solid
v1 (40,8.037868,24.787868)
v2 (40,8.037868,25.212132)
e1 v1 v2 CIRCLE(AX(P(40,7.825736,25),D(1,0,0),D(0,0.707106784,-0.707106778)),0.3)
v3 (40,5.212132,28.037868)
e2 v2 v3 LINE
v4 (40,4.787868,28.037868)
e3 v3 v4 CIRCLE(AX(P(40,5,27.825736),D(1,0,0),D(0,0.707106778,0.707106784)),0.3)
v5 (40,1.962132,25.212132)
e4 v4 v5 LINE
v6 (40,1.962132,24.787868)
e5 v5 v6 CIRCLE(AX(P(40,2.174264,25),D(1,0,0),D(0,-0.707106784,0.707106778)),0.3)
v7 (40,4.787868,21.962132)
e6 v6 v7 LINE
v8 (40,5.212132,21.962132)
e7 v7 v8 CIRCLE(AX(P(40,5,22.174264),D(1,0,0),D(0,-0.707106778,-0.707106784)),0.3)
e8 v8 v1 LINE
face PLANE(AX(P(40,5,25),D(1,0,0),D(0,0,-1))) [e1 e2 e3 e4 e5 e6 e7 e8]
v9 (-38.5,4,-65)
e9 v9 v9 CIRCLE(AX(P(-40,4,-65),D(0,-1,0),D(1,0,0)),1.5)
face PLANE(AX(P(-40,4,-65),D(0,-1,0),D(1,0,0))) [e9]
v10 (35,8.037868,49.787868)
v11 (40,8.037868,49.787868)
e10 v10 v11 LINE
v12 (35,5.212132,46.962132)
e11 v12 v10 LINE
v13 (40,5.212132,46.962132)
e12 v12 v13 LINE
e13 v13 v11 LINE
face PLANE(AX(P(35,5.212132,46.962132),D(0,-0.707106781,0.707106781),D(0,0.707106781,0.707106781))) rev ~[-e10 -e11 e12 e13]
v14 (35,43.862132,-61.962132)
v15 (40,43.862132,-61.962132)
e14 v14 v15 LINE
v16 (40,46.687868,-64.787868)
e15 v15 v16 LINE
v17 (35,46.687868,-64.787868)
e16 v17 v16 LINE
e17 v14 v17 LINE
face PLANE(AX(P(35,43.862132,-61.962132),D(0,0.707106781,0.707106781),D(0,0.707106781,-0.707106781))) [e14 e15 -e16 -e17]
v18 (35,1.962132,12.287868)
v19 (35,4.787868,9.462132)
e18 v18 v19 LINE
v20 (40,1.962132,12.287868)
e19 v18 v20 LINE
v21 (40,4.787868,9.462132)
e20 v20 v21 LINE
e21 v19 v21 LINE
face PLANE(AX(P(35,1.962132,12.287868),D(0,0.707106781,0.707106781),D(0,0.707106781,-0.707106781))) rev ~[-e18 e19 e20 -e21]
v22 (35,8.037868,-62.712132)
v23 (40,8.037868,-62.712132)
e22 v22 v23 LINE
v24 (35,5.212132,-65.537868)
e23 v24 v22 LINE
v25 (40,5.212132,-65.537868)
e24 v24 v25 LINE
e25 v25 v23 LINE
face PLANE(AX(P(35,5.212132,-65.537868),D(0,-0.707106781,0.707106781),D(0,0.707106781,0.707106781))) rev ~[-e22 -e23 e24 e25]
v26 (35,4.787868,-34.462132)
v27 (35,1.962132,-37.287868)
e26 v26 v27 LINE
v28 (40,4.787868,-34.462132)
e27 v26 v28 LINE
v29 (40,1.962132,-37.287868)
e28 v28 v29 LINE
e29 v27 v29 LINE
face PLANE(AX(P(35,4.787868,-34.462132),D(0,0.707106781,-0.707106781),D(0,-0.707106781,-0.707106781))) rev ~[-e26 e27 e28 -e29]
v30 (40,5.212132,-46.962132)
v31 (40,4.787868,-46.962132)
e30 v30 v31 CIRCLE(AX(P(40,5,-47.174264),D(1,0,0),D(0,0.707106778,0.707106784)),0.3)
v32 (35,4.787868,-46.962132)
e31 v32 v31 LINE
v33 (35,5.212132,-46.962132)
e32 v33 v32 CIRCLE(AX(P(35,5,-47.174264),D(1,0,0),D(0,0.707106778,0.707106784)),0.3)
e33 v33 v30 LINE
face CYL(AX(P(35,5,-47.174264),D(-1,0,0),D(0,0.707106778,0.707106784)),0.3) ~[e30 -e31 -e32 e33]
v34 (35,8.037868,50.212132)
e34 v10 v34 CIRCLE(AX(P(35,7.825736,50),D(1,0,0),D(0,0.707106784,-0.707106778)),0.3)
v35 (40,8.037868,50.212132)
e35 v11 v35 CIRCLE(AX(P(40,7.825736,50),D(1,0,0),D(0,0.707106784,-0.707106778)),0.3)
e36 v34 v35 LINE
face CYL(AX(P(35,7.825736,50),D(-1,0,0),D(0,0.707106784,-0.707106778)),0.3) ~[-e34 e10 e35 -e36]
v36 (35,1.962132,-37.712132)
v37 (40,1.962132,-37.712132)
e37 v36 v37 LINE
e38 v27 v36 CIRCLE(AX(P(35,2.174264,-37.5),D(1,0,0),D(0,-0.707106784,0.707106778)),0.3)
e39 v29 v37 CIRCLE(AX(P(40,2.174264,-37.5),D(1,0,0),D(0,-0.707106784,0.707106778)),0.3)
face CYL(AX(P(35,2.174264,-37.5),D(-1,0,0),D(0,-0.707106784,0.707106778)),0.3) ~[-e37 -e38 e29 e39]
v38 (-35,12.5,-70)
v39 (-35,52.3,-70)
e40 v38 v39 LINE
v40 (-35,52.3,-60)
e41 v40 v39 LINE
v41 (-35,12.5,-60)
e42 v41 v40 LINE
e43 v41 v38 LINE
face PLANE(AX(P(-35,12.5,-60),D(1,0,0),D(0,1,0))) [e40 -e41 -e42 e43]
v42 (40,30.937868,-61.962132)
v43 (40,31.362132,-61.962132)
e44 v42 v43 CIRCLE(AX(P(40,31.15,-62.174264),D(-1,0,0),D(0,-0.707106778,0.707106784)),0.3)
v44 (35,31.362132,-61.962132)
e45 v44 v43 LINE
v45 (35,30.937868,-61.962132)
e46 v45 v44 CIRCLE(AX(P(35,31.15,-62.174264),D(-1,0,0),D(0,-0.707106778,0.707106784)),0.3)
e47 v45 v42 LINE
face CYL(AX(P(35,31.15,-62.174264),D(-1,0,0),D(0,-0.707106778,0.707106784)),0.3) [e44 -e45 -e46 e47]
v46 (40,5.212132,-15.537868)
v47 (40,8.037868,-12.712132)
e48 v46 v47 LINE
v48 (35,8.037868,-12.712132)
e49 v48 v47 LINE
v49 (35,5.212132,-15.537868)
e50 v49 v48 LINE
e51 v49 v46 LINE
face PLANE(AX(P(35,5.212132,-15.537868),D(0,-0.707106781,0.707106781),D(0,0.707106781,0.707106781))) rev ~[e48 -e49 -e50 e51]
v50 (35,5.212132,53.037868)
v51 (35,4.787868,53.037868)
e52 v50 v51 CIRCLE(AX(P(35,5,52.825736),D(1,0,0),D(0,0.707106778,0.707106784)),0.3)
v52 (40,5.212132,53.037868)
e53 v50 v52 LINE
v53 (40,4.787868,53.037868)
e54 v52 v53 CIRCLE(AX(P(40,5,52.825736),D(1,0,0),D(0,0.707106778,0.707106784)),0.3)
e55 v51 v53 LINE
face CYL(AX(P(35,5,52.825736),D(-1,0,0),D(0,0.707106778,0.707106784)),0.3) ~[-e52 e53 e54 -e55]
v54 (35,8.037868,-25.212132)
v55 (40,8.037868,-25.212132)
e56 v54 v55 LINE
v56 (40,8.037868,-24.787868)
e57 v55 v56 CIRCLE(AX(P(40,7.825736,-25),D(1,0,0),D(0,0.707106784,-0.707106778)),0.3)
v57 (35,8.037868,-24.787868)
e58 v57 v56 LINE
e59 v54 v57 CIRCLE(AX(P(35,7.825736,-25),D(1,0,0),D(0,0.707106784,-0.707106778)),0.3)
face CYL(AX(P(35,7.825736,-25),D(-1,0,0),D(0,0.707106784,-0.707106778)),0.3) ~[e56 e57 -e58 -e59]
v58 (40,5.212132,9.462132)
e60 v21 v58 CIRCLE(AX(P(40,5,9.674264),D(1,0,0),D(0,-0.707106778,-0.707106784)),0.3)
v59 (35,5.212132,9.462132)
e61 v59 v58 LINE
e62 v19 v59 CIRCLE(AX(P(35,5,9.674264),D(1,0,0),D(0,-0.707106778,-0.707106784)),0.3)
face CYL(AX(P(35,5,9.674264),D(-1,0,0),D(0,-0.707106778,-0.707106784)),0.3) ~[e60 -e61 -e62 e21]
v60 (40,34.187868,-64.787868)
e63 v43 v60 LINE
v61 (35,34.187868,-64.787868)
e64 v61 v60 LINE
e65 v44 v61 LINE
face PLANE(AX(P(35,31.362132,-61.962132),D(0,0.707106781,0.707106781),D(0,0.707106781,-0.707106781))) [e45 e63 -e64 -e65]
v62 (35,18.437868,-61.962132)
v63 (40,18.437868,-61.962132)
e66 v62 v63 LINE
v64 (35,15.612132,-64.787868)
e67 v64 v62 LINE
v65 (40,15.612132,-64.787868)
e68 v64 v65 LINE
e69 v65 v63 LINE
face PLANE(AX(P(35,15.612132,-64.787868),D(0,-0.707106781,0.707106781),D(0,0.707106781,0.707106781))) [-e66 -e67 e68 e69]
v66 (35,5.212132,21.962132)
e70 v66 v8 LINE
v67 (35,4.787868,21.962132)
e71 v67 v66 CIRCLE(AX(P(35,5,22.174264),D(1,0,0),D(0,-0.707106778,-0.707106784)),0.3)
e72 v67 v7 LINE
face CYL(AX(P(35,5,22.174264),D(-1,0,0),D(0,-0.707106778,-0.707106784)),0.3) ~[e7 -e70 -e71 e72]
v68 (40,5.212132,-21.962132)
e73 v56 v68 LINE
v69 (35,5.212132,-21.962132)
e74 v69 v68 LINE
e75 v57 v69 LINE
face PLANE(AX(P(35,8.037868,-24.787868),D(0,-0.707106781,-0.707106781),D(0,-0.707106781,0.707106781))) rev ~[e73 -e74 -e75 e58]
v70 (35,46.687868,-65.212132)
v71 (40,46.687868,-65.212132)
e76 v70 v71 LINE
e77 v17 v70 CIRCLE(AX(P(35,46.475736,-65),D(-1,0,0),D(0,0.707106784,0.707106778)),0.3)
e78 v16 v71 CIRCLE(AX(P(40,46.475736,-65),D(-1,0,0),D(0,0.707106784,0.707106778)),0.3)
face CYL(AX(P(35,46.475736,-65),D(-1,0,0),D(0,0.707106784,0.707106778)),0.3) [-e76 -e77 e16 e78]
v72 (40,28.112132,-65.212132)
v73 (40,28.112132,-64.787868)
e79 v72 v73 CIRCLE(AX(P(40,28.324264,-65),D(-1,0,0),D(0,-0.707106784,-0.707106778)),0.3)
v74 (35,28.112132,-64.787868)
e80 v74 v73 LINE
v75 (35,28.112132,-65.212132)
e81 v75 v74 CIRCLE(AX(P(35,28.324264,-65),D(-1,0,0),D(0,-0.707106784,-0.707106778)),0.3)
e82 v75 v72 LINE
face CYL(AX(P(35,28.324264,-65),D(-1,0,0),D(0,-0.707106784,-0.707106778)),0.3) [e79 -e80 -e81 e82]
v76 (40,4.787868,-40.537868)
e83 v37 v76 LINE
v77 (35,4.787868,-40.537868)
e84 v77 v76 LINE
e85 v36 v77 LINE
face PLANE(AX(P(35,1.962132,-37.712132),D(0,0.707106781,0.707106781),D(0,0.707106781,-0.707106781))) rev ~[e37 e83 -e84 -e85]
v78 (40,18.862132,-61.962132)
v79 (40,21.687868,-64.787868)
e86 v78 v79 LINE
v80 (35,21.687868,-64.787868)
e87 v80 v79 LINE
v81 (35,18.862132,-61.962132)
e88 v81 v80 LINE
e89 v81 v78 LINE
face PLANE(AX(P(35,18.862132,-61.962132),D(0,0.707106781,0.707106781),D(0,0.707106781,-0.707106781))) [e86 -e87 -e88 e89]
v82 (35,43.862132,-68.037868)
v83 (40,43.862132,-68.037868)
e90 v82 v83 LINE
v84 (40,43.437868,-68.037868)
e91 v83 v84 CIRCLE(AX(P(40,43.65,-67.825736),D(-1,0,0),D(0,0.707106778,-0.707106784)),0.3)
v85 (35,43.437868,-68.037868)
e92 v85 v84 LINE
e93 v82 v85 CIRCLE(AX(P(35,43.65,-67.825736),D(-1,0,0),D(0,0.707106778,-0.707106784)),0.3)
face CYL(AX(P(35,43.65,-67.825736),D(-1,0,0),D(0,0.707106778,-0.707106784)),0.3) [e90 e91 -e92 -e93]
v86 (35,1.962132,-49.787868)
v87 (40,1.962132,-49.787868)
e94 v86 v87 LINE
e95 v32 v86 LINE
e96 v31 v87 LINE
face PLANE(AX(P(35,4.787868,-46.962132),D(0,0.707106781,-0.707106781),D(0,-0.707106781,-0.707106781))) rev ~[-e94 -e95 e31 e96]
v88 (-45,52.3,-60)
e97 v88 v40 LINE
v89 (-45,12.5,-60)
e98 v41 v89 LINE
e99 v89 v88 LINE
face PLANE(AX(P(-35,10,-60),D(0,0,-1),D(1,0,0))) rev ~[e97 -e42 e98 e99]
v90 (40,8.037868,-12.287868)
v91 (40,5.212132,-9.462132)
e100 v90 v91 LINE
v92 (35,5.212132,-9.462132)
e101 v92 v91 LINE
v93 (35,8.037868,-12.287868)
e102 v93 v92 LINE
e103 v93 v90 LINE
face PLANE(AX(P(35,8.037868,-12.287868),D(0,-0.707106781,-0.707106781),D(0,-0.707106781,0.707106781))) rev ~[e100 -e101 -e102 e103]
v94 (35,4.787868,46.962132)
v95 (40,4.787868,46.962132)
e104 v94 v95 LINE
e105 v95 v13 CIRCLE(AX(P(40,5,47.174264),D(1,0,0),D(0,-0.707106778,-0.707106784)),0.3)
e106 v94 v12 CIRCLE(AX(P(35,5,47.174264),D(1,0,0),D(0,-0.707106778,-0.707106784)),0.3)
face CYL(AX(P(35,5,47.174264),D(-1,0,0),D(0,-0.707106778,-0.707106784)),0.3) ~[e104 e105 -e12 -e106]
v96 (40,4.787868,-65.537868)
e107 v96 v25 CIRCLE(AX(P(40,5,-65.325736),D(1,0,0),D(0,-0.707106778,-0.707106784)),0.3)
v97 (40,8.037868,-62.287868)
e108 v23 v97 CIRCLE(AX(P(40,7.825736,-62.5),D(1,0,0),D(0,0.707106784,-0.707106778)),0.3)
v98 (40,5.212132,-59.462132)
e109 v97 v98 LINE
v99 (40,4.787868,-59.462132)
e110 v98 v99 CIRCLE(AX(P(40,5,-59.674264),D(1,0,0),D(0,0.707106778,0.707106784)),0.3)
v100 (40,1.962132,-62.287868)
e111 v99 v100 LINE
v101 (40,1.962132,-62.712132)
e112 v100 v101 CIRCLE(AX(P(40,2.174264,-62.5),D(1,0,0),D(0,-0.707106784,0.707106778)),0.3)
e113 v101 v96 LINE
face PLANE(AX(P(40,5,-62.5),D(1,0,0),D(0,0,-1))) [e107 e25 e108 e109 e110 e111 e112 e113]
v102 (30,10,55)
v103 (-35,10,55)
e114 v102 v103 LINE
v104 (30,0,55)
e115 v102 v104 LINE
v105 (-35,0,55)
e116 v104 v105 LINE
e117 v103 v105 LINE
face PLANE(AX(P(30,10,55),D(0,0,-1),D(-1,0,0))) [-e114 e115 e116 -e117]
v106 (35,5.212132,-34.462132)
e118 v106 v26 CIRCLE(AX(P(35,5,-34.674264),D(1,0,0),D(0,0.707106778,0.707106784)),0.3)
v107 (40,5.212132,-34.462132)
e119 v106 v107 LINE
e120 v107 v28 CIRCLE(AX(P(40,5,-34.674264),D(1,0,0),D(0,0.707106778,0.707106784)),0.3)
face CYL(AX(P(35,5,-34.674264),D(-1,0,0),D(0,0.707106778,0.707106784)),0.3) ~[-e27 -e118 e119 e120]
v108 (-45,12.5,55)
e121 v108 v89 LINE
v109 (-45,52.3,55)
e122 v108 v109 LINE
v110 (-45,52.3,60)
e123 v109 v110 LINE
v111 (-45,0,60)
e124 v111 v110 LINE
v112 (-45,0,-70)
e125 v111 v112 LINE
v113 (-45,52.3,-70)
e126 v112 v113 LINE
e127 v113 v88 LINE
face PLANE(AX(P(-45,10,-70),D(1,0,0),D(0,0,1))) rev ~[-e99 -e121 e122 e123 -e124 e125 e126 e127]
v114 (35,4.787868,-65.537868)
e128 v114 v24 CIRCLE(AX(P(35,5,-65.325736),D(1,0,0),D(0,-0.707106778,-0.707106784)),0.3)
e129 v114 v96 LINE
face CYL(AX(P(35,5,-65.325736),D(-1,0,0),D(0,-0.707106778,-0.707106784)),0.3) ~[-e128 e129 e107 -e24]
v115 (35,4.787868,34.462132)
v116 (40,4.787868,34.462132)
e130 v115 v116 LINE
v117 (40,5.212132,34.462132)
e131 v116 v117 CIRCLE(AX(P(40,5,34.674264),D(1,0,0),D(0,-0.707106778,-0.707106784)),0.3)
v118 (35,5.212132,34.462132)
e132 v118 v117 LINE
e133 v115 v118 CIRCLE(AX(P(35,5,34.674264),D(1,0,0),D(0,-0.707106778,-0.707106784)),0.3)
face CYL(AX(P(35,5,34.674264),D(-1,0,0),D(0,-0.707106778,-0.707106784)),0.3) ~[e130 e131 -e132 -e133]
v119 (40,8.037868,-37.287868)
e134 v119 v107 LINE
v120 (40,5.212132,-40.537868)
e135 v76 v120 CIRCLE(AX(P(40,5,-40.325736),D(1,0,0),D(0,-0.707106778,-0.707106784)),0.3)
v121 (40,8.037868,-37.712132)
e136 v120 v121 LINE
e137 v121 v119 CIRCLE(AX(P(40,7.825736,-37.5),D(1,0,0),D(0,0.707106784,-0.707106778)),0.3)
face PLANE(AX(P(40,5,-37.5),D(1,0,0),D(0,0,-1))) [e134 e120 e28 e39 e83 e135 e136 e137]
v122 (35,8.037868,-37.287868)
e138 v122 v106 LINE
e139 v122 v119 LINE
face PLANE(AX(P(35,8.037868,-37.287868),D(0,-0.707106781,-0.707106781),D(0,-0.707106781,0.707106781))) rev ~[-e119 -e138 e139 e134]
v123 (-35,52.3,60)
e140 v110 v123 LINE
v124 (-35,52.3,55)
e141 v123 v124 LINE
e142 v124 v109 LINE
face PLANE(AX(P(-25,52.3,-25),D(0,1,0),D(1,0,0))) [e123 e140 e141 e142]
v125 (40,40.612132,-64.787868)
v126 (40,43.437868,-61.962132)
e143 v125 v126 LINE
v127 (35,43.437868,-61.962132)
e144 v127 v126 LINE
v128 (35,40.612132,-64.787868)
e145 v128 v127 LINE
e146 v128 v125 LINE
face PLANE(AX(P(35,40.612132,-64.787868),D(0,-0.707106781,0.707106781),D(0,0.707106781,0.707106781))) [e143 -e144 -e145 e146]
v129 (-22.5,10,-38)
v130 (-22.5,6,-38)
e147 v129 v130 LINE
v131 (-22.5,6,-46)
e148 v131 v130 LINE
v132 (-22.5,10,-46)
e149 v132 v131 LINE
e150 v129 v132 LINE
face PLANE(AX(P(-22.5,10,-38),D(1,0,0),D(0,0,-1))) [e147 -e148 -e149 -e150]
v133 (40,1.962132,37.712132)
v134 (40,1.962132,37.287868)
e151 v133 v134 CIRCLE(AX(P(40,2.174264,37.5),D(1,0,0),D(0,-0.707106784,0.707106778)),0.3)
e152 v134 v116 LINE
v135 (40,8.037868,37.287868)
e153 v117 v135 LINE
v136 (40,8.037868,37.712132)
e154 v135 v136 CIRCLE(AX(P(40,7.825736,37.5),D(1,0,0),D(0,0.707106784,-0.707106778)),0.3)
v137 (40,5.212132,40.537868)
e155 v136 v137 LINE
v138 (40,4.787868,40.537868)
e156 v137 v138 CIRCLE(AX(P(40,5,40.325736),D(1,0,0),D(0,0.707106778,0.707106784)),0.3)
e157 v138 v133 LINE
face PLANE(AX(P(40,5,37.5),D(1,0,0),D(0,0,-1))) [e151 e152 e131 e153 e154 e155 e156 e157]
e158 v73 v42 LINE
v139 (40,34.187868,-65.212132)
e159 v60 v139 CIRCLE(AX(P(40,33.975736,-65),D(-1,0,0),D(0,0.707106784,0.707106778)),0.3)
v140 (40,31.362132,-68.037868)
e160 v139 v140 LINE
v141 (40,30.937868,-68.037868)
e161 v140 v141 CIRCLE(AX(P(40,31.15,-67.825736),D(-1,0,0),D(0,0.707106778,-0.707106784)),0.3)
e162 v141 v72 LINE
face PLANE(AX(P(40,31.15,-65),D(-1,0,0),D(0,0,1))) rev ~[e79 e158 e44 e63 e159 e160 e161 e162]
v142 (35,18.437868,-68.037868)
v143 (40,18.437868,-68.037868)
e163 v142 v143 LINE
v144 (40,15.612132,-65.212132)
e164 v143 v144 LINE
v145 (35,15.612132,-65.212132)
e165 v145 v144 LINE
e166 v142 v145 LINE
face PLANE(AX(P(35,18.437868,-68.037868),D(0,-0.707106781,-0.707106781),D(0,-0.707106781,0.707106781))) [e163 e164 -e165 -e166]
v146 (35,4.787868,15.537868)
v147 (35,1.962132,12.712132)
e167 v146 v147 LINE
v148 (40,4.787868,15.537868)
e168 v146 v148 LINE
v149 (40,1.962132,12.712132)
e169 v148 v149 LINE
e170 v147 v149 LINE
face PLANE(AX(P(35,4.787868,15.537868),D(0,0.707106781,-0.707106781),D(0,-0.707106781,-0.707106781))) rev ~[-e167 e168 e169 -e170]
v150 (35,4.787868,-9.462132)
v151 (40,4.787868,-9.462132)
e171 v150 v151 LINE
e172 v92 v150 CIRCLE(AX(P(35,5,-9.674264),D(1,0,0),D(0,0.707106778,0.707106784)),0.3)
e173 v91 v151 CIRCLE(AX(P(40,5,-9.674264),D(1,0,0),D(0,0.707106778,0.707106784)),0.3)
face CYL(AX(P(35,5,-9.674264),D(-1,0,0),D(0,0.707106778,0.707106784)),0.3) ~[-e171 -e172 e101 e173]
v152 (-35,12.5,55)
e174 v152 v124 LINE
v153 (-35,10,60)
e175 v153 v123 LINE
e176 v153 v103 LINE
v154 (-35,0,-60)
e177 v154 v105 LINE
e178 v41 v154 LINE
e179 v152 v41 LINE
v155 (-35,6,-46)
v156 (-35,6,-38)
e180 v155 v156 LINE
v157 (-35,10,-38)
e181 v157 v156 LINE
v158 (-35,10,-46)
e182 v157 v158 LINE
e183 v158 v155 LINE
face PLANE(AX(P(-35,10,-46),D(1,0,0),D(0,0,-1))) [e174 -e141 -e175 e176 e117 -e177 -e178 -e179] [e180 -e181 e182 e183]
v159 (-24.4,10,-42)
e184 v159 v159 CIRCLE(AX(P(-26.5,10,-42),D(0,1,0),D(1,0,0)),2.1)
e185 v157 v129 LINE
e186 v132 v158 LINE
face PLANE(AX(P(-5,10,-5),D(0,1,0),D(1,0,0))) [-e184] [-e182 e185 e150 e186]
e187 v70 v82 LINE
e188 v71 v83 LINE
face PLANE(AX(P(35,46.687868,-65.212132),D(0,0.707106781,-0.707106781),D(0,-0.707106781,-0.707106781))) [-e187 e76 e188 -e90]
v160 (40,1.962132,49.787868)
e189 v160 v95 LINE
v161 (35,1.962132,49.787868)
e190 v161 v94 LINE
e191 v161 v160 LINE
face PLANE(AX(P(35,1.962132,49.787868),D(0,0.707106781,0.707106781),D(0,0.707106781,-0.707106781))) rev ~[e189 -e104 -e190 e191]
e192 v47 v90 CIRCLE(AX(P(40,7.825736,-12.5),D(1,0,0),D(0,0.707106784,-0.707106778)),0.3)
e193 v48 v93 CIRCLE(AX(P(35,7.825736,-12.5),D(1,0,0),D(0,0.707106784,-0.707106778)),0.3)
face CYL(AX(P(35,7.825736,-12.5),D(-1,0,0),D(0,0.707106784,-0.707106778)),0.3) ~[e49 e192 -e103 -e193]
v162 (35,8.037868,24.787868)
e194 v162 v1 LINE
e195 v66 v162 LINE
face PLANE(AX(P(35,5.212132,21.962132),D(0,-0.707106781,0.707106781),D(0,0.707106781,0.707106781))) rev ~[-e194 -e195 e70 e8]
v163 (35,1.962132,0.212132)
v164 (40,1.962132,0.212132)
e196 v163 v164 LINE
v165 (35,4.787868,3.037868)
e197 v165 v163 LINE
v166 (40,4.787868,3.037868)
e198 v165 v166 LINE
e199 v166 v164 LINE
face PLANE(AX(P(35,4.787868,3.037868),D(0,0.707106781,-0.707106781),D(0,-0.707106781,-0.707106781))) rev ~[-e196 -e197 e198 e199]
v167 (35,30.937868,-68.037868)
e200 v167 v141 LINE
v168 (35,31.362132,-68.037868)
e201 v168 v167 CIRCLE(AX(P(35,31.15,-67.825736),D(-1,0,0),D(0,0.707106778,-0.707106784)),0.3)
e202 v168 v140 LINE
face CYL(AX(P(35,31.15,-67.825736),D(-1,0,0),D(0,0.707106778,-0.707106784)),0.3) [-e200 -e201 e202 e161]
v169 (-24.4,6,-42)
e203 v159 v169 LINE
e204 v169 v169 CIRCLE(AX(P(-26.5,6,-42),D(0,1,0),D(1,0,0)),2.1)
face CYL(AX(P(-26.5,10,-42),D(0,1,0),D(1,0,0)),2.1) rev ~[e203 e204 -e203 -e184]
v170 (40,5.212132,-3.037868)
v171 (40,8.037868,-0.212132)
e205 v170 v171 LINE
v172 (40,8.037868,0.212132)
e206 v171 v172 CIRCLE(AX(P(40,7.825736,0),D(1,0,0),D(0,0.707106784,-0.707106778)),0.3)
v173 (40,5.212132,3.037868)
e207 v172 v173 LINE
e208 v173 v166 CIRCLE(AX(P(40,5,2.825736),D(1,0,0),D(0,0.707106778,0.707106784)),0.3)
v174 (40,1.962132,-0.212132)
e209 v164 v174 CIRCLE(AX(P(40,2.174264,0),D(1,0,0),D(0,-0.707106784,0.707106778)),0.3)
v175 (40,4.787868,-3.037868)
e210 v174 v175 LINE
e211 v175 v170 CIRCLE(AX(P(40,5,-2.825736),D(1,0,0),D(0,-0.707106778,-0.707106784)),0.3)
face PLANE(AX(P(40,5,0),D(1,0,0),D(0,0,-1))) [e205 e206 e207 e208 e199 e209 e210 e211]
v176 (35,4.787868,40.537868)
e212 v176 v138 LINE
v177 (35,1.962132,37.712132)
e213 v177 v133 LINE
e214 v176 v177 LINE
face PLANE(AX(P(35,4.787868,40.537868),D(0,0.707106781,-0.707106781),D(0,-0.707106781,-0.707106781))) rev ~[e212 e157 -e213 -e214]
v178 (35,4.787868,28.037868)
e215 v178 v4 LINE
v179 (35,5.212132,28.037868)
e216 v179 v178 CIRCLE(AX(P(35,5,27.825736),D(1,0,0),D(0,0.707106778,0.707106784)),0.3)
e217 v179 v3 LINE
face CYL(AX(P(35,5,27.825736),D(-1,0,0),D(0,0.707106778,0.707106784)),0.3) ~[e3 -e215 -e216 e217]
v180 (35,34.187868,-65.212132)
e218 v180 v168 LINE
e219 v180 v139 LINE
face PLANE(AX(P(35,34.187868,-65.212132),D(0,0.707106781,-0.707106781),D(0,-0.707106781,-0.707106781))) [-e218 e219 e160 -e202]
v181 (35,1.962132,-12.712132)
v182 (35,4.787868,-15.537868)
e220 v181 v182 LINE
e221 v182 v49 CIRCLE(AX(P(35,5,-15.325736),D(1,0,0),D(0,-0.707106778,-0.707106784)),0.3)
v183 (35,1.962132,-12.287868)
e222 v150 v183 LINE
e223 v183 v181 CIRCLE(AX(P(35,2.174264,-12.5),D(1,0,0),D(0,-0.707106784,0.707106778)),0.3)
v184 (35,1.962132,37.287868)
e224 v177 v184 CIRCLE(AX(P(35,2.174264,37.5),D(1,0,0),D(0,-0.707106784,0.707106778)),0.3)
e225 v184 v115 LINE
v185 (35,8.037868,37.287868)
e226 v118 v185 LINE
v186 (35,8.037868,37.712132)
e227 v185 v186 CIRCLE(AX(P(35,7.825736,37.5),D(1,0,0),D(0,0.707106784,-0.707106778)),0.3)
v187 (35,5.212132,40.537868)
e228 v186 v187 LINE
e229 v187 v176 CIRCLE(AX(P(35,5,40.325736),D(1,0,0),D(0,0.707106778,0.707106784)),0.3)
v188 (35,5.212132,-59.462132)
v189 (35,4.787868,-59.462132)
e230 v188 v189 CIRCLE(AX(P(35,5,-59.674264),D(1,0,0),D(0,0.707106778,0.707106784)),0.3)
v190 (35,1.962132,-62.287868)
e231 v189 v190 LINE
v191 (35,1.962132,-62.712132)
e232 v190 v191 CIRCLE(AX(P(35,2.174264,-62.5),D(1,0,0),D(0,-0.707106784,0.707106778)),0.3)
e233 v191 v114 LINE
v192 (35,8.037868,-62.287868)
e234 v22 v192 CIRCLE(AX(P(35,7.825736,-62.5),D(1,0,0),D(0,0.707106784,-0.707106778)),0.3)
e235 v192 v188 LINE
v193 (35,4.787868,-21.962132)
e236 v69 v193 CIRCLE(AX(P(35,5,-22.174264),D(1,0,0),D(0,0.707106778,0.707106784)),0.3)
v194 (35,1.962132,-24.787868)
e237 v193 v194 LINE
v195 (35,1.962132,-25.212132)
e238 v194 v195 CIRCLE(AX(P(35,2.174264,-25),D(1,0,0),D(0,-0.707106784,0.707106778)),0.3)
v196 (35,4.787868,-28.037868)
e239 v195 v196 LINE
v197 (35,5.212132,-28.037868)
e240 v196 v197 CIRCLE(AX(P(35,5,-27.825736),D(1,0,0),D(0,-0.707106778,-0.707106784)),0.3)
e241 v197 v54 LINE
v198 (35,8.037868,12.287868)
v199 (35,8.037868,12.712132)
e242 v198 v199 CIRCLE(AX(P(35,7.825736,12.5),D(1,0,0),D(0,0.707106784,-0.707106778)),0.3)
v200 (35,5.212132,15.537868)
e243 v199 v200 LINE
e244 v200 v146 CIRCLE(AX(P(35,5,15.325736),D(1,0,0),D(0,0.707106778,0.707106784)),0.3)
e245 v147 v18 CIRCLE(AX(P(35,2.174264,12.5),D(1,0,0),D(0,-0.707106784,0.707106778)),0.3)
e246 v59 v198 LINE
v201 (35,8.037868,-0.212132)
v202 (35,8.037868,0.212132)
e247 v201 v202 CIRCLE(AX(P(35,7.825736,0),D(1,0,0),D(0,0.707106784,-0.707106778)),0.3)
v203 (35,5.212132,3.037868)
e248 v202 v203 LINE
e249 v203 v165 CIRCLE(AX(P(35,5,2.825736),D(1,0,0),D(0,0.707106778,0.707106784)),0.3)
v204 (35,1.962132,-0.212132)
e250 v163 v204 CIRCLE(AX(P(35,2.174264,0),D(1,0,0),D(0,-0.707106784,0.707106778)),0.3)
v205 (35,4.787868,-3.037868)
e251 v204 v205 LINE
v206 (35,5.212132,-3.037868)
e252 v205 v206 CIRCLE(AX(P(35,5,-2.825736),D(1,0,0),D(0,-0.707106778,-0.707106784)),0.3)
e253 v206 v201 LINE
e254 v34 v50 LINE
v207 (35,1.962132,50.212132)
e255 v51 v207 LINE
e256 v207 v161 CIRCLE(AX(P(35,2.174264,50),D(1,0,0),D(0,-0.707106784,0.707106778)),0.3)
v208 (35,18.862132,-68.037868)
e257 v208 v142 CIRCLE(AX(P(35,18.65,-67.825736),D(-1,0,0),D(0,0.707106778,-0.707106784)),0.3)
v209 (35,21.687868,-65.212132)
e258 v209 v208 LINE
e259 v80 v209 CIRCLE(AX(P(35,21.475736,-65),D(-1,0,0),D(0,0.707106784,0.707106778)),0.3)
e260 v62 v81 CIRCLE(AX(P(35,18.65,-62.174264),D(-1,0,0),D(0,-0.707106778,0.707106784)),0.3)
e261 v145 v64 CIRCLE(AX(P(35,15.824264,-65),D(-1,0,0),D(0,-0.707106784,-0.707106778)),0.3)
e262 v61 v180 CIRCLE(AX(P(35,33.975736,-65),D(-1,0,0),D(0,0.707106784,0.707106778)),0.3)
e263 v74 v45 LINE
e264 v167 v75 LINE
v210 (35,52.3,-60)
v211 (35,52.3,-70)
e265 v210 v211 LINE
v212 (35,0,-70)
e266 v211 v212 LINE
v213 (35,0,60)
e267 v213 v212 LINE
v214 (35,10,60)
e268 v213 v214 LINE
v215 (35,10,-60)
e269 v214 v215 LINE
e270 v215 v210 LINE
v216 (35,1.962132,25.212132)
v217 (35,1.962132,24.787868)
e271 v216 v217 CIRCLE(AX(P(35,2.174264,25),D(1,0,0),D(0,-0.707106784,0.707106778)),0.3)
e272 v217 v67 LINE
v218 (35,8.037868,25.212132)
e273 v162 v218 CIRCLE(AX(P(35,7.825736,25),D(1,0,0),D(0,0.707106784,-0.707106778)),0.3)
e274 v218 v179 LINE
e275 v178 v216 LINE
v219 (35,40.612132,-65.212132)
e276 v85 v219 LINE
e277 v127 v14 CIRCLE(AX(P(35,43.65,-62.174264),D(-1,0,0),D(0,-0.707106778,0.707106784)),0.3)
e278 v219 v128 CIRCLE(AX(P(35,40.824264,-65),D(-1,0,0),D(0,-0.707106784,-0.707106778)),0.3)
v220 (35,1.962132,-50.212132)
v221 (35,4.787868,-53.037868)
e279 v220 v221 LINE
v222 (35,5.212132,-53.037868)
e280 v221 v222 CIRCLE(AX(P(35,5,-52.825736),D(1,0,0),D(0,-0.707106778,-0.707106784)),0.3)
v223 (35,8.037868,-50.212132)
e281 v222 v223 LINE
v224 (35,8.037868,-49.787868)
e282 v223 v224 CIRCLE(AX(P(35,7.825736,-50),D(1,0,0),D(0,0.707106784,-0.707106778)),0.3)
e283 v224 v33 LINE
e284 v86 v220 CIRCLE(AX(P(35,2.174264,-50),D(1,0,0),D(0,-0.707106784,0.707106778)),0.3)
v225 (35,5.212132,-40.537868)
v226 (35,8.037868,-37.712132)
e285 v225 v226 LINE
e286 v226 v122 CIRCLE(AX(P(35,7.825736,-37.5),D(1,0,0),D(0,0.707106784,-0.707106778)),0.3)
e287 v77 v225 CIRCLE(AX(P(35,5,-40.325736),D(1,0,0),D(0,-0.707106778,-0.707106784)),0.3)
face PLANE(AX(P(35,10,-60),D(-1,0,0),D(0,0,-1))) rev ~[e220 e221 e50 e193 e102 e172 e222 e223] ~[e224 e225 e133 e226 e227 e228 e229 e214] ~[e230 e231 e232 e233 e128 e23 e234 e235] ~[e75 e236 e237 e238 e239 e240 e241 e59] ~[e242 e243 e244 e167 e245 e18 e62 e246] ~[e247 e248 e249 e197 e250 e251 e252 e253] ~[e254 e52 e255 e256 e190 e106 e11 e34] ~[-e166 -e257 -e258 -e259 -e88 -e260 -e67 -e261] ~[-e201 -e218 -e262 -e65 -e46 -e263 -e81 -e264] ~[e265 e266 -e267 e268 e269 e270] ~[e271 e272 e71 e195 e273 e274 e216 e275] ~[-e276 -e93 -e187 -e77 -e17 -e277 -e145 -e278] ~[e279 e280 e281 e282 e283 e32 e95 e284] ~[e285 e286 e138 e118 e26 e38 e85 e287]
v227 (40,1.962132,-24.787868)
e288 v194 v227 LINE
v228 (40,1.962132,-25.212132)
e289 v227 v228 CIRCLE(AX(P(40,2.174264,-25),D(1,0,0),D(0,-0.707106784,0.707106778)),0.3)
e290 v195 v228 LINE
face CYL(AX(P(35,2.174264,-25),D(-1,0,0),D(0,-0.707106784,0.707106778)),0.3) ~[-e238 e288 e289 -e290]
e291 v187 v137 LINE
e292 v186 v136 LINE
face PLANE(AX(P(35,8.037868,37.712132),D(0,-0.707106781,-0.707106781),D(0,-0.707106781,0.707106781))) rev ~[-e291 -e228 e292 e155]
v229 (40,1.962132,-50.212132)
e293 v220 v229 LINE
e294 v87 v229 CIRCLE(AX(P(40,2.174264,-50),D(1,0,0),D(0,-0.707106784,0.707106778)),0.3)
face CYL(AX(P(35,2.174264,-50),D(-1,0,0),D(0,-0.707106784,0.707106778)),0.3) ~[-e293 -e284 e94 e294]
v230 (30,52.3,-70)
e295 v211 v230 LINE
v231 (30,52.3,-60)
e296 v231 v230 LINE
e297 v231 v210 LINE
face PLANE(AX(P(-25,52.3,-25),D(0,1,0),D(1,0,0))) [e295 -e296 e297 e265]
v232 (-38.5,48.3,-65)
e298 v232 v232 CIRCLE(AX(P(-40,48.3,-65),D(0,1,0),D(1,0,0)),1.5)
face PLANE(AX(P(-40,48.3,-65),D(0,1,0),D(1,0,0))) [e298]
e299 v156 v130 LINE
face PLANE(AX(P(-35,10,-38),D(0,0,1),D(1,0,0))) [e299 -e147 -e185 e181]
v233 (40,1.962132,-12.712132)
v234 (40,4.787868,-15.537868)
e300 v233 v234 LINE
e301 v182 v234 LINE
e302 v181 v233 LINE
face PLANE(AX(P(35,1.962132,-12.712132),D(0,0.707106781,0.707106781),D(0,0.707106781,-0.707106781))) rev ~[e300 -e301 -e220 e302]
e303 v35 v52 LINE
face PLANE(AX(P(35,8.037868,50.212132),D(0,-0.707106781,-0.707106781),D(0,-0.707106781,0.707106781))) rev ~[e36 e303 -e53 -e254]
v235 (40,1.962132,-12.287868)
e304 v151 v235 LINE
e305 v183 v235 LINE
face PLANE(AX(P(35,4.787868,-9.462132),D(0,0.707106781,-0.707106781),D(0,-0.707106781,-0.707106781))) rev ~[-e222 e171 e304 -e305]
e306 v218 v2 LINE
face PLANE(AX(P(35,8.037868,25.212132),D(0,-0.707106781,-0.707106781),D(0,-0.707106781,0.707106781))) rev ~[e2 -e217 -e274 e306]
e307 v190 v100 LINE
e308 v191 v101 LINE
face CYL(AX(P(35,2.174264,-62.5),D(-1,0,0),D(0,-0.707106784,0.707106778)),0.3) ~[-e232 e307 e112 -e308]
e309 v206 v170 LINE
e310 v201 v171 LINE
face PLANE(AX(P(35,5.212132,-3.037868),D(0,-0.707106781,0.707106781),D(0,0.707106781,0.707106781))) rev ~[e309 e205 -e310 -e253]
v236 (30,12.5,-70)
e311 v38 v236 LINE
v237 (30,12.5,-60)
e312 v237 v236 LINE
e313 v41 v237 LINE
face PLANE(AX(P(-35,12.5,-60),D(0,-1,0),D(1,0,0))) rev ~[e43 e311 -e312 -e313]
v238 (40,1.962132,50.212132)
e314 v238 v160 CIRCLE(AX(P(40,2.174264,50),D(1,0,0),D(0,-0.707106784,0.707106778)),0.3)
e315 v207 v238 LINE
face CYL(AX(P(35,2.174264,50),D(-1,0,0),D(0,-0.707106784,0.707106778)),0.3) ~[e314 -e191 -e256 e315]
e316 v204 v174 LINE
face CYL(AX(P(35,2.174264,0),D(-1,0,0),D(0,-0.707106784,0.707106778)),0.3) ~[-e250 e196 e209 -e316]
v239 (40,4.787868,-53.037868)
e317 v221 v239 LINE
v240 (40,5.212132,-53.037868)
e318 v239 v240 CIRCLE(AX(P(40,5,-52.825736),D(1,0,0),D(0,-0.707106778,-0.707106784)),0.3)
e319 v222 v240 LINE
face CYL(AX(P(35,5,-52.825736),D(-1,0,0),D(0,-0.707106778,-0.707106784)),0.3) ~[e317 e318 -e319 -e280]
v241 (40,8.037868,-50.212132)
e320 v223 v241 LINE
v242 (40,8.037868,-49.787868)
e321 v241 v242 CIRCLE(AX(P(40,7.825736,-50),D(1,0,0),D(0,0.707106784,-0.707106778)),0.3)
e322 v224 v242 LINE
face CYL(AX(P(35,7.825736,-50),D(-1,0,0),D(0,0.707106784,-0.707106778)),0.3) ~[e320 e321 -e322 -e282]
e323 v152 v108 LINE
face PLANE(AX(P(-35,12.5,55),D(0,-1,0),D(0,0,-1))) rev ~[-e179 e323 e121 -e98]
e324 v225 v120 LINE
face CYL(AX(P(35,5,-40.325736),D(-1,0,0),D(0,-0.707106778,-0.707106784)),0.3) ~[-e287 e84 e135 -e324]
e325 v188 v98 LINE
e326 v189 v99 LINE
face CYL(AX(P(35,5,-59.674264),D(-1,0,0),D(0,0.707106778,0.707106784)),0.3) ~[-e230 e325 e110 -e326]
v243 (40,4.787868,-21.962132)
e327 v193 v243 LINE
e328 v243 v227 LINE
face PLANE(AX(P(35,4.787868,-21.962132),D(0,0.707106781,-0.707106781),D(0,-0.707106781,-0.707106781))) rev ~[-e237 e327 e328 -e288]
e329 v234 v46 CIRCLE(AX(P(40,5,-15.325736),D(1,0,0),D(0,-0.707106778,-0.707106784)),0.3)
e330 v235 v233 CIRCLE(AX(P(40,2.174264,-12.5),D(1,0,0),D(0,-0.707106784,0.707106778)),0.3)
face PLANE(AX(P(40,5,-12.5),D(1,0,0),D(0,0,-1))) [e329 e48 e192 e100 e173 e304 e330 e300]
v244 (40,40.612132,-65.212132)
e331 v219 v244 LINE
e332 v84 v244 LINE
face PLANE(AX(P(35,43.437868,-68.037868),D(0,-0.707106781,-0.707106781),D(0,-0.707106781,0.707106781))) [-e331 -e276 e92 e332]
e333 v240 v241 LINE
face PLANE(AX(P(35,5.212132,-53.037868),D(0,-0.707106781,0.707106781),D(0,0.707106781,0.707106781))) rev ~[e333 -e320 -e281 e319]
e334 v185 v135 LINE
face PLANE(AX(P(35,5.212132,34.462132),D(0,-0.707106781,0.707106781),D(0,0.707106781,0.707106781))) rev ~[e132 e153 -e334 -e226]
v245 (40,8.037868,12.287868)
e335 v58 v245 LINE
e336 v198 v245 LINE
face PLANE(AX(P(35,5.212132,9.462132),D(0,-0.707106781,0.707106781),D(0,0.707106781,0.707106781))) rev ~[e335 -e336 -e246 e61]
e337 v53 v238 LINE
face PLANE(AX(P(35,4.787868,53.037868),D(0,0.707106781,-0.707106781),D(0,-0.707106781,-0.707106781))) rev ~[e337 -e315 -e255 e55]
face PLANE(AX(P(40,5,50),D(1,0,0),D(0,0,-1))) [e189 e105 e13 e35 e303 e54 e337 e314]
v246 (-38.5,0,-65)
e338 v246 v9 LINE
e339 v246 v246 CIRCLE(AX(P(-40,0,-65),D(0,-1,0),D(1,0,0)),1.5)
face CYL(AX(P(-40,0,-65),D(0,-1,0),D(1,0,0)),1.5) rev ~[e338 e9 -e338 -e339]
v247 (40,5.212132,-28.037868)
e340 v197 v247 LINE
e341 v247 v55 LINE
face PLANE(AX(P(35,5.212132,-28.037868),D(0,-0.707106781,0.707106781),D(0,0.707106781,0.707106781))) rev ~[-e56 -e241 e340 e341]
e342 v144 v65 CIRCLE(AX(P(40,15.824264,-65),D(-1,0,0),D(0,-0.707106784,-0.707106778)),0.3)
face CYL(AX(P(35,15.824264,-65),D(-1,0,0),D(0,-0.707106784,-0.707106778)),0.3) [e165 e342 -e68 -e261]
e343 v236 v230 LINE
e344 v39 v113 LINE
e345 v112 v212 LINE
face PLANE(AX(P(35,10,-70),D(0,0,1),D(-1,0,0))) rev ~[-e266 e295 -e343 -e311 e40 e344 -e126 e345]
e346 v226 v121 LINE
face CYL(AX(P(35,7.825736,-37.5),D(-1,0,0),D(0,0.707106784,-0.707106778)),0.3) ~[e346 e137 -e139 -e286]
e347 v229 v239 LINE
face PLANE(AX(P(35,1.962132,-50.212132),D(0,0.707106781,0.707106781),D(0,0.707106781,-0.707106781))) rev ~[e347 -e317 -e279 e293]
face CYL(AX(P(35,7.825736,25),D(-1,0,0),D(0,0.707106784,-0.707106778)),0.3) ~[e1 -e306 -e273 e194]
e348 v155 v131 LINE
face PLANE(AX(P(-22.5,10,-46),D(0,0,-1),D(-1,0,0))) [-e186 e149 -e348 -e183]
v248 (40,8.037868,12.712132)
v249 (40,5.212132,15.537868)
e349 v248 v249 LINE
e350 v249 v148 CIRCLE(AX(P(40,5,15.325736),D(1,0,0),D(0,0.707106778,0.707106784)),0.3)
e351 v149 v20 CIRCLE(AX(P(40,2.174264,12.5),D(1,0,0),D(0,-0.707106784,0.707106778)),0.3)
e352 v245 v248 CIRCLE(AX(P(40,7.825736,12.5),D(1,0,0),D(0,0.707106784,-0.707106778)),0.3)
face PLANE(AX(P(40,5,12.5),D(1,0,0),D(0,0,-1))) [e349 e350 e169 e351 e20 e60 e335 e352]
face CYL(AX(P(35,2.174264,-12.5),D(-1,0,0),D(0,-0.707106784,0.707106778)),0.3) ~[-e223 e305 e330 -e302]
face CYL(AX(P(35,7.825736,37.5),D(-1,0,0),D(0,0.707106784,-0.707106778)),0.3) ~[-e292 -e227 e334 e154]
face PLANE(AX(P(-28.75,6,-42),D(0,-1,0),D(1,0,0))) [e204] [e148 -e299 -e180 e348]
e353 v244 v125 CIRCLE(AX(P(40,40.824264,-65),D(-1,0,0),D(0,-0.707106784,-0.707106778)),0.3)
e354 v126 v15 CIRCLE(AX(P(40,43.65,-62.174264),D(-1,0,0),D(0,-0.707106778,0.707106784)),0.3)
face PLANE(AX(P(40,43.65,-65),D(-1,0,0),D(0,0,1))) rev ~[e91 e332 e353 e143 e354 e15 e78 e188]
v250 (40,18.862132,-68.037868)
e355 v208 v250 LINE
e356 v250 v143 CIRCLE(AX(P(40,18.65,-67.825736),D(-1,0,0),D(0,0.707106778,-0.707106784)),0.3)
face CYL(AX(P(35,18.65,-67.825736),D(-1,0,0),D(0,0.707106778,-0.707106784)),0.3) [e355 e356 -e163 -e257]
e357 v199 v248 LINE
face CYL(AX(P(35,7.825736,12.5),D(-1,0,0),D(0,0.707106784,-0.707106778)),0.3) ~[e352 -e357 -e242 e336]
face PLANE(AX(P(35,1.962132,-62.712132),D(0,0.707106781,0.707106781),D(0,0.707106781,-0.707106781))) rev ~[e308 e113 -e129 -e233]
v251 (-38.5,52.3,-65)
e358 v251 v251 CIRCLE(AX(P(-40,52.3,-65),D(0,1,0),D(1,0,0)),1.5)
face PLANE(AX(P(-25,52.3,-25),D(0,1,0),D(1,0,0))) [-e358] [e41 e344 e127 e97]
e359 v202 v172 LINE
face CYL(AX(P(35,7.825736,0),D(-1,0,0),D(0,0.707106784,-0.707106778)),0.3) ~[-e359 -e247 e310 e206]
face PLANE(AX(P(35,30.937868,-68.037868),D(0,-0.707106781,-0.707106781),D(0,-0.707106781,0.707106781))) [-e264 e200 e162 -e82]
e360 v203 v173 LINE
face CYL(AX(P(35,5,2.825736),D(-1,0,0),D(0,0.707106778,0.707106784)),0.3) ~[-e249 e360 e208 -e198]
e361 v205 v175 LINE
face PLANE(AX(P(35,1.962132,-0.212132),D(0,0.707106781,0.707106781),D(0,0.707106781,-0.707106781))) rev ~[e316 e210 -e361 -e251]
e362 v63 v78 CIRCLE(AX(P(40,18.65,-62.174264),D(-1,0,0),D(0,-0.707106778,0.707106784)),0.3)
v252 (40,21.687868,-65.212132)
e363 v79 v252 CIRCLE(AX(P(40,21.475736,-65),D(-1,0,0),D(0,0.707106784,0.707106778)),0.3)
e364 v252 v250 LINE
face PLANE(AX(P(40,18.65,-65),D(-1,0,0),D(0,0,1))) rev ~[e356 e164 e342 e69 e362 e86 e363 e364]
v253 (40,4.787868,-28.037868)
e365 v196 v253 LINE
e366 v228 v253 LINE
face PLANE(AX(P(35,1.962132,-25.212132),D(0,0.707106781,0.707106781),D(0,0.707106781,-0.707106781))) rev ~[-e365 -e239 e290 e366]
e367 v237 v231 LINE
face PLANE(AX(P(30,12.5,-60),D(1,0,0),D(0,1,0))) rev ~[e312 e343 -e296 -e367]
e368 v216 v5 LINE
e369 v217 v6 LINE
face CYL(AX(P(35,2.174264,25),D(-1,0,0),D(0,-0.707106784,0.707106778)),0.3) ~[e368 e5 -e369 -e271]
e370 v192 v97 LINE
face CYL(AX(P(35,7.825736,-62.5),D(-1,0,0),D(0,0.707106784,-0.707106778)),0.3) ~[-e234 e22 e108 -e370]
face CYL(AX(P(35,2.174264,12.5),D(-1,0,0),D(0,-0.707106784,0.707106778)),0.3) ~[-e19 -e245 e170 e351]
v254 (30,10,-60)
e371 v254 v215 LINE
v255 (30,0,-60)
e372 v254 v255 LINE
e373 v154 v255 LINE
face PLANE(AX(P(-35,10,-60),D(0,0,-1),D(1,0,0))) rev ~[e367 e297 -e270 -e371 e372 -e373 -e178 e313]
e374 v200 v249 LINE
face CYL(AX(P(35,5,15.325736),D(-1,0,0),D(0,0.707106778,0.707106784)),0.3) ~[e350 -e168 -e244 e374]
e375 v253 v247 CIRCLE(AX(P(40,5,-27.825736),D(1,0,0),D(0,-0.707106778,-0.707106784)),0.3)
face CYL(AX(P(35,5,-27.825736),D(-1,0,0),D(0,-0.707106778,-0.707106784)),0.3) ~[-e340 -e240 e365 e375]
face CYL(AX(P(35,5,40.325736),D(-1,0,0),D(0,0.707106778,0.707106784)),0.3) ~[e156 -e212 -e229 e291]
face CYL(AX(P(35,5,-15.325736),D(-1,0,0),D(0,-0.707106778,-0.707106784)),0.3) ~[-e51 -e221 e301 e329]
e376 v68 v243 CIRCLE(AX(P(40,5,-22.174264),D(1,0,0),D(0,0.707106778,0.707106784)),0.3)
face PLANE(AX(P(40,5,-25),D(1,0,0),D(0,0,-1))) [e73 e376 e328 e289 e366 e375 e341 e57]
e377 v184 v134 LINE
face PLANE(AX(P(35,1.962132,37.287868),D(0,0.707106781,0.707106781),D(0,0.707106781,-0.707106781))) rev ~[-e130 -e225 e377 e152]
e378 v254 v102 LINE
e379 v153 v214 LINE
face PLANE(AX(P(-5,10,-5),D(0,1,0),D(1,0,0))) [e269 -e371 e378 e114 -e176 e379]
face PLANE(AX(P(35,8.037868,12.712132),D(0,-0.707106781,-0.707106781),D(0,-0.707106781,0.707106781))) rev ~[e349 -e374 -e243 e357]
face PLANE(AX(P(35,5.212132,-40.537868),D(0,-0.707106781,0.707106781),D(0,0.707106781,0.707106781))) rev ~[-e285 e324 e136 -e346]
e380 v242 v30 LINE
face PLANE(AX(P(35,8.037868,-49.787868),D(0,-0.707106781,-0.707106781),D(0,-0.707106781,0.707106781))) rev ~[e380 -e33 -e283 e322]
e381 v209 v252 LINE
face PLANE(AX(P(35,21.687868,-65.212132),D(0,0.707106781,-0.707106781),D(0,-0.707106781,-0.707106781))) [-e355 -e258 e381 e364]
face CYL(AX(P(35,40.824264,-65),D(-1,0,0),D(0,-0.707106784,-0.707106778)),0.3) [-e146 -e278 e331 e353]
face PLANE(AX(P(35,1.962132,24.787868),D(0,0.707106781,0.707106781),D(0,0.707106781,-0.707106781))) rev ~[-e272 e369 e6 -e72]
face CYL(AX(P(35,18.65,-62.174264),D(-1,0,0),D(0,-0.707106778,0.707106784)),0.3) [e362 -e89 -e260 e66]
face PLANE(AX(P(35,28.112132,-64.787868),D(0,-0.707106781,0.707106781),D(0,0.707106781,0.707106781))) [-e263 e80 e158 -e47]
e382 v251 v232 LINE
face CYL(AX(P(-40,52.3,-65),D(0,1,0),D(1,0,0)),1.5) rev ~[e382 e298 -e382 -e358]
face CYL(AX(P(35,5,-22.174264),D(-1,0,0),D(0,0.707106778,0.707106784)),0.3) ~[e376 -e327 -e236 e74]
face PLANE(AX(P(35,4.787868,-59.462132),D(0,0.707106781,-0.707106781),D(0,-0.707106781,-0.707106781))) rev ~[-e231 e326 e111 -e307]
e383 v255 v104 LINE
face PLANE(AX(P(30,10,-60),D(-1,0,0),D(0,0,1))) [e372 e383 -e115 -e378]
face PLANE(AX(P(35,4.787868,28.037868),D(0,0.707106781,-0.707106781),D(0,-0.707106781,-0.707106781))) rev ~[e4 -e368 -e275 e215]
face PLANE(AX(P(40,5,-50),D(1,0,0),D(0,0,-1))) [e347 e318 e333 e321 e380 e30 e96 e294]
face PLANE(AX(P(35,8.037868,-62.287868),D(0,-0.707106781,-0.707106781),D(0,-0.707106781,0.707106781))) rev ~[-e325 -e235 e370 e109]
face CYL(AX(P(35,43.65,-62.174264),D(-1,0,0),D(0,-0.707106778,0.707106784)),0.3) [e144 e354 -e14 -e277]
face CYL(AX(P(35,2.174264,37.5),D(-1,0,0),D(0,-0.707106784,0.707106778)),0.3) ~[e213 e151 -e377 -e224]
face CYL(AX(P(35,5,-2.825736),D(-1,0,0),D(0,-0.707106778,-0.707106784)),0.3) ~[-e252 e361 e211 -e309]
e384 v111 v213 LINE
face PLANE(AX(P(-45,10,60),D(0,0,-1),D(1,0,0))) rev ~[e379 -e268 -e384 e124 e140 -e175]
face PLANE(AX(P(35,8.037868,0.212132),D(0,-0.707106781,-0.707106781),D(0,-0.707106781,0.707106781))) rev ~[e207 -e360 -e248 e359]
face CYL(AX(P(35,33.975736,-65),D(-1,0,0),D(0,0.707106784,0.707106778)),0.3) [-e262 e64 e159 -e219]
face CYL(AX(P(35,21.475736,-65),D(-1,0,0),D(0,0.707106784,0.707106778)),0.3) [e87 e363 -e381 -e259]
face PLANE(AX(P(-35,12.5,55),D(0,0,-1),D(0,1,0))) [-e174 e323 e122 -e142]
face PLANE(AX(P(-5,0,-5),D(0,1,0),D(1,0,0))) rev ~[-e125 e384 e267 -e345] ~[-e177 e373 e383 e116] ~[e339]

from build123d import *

# Parameters (mm, degrees)
SKETCH1_W            = 80
SKETCH1_H            = 130
BOSS_EXTRUDE1_DEPTH  = 10
BOSS_EXTRUDE10_DEPTH = 42.3
SKETCH13_W           = 115
SKETCH13_H           = 39.8
CUT_EXTRUDE3_DEPTH   = 11
SKETCH14_W           = 65
SKETCH14_H           = 39.8
CUT_EXTRUDE4_DEPTH   = 11
SKETCH15_R           = 1.5
CUT_EXTRUDE5_DEPTH   = 4
SKETCH21_R           = 2.1
CUT_EXTRUDE8_DEPTH   = 11
BOSS_EXTRUDE11_DEPTH = 5
CUT_EXTRUDE9_DEPTH   = 11
SKETCH24_R           = 1.5
CUT_EXTRUDE10_DEPTH  = 4
SKETCH25_W           = 12.5
SKETCH25_H           = 8
CUT_EXTRUDE11_DEPTH  = 6


with BuildPart() as part:
    # Sketch1 → Boss-Extrude1 (new body)
    with BuildSketch(Plane(origin=(0, 0, 0), x_dir=(1, 0, 0), z_dir=(0, 1, 0))):
        with Locations((-5, 5)):
            Rectangle(SKETCH1_W, SKETCH1_H)
    extrude(amount=BOSS_EXTRUDE1_DEPTH)

    # Sketch9 → Boss-Extrude10 (add)
    with BuildSketch(Plane(origin=(0, 10, 0), x_dir=(1, 0, 0), z_dir=(0, 1, 0))):
        Polygon((35, 70), (-45, 70), (-45, -60), (-35, -60), (-35, 60), (35, 60), align=None)
    extrude(amount=BOSS_EXTRUDE10_DEPTH)

    # Sketch13 → Cut-Extrude3 (cut, through all)
    with BuildSketch(Plane(origin=(-35, 0, 0), x_dir=(0, 0, -1), z_dir=(1, 0, 0))):
        with Locations((2.5, 32.4)):
            Rectangle(SKETCH13_W, SKETCH13_H)
    extrude(amount=-CUT_EXTRUDE3_DEPTH, mode=Mode.SUBTRACT)

    # Sketch14 → Cut-Extrude4 (cut, through all)
    with BuildSketch(Plane.XY.offset(-60)):
        with Locations((-2.5, 32.4)):
            Rectangle(SKETCH14_W, SKETCH14_H)
    extrude(amount=-CUT_EXTRUDE4_DEPTH, mode=Mode.SUBTRACT)

    # Sketch15 → Cut-Extrude5 (cut)
    with BuildSketch(Plane(origin=(0, 52.3, 0), x_dir=(1, 0, 0), z_dir=(0, 1, 0))):
        with Locations((-40, 65)):
            Circle(SKETCH15_R)
    extrude(amount=-CUT_EXTRUDE5_DEPTH, mode=Mode.SUBTRACT)

    # Sketch21 → Cut-Extrude8 (cut, through all)
    with BuildSketch(Plane(origin=(0, 10, 0), x_dir=(1, 0, 0), z_dir=(0, 1, 0))):
        with Locations((-26.5, 42)):
            Circle(SKETCH21_R)
    extrude(amount=-CUT_EXTRUDE8_DEPTH, mode=Mode.SUBTRACT)

    # Sketch22 → Boss-Extrude11 (add)
    with BuildSketch(Plane(origin=(35, 0, 0), x_dir=(0, 0, -1), z_dir=(1, 0, 0))):
        with BuildLine():
            Line((-0.212132034, 8.037867966), (-3.037867966, 5.212132034))
            ThreePointArc((-3.037867966, 5.212132034), (-3.125735931, 5), (-3.037867966, 4.787867966))
            Line((-3.037867966, 4.787867966), (-0.212132034, 1.962132034))
            ThreePointArc((-0.212132034, 1.962132034), (0, 1.874264069), (0.212132034, 1.962132034))
            Line((0.212132034, 1.962132034), (3.037867966, 4.787867966))
            ThreePointArc((3.037867966, 4.787867966), (3.125735931, 5), (3.037867966, 5.212132034))
            Line((3.037867966, 5.212132034), (0.212132034, 8.037867966))
            ThreePointArc((0.212132034, 8.037867966), (0, 8.125735931), (-0.212132034, 8.037867966))
        make_face()
        with BuildLine():
            Line((15.537867966, 5.212132034), (12.712132034, 8.037867966))
            ThreePointArc((12.712132034, 8.037867966), (12.5, 8.125735931), (12.287867966, 8.037867966))
            Line((12.287867966, 8.037867966), (9.462132034, 5.212132034))
            ThreePointArc((9.462132034, 5.212132034), (9.374264069, 5), (9.462132034, 4.787867966))
            Line((9.462132034, 4.787867966), (12.287867966, 1.962132034))
            ThreePointArc((12.287867966, 1.962132034), (12.5, 1.874264069), (12.712132034, 1.962132034))
            Line((12.712132034, 1.962132034), (15.537867966, 4.787867966))
            ThreePointArc((15.537867966, 4.787867966), (15.625735931, 5), (15.537867966, 5.212132034))
        make_face()
        with BuildLine():
            Line((28.037867966, 5.212132034), (25.212132034, 8.037867966))
            ThreePointArc((25.212132034, 8.037867966), (25, 8.125735931), (24.787867966, 8.037867966))
            Line((24.787867966, 8.037867966), (21.962132034, 5.212132034))
            ThreePointArc((21.962132034, 5.212132034), (21.874264069, 5), (21.962132034, 4.787867966))
            Line((21.962132034, 4.787867966), (24.787867966, 1.962132034))
            ThreePointArc((24.787867966, 1.962132034), (25, 1.874264069), (25.212132034, 1.962132034))
            Line((25.212132034, 1.962132034), (28.037867966, 4.787867966))
            ThreePointArc((28.037867966, 4.787867966), (28.125735931, 5), (28.037867966, 5.212132034))
        make_face()
        with BuildLine():
            Line((40.537867966, 5.212132034), (37.712132034, 8.037867966))
            ThreePointArc((37.712132034, 8.037867966), (37.5, 8.125735931), (37.287867966, 8.037867966))
            Line((37.287867966, 8.037867966), (34.462132034, 5.212132034))
            ThreePointArc((34.462132034, 5.212132034), (34.374264069, 5), (34.462132034, 4.787867966))
            Line((34.462132034, 4.787867966), (37.287867966, 1.962132034))
            ThreePointArc((37.287867966, 1.962132034), (37.5, 1.874264069), (37.712132034, 1.962132034))
            Line((37.712132034, 1.962132034), (40.537867966, 4.787867966))
            ThreePointArc((40.537867966, 4.787867966), (40.625735931, 5), (40.537867966, 5.212132034))
        make_face()
        with BuildLine():
            Line((53.037867966, 5.212132034), (50.212132034, 8.037867966))
            ThreePointArc((50.212132034, 8.037867966), (50, 8.125735931), (49.787867966, 8.037867966))
            Line((49.787867966, 8.037867966), (46.962132034, 5.212132034))
            ThreePointArc((46.962132034, 5.212132034), (46.874264069, 5), (46.962132034, 4.787867966))
            Line((46.962132034, 4.787867966), (49.787867966, 1.962132034))
            ThreePointArc((49.787867966, 1.962132034), (50, 1.874264069), (50.212132034, 1.962132034))
            Line((50.212132034, 1.962132034), (53.037867966, 4.787867966))
            ThreePointArc((53.037867966, 4.787867966), (53.125735931, 5), (53.037867966, 5.212132034))
        make_face()
        with BuildLine():
            Line((65.537867966, 5.212132034), (62.712132034, 8.037867966))
            ThreePointArc((62.712132034, 8.037867966), (62.5, 8.125735931), (62.287867966, 8.037867966))
            Line((62.287867966, 8.037867966), (59.462132034, 5.212132034))
            ThreePointArc((59.462132034, 5.212132034), (59.374264069, 5), (59.462132034, 4.787867966))
            Line((59.462132034, 4.787867966), (62.287867966, 1.962132034))
            ThreePointArc((62.287867966, 1.962132034), (62.5, 1.874264069), (62.712132034, 1.962132034))
            Line((62.712132034, 1.962132034), (65.537867966, 4.787867966))
            ThreePointArc((65.537867966, 4.787867966), (65.625735931, 5), (65.537867966, 5.212132034))
        make_face()
        with BuildLine():
            Line((-9.462132034, 5.212132034), (-12.287867966, 8.037867966))
            ThreePointArc((-12.287867966, 8.037867966), (-12.5, 8.125735931), (-12.712132034, 8.037867966))
            Line((-12.712132034, 8.037867966), (-15.537867966, 5.212132034))
            ThreePointArc((-15.537867966, 5.212132034), (-15.625735931, 5), (-15.537867966, 4.787867966))
            Line((-15.537867966, 4.787867966), (-12.712132034, 1.962132034))
            ThreePointArc((-12.712132034, 1.962132034), (-12.5, 1.874264069), (-12.287867966, 1.962132034))
            Line((-12.287867966, 1.962132034), (-9.462132034, 4.787867966))
            ThreePointArc((-9.462132034, 4.787867966), (-9.374264069, 5), (-9.462132034, 5.212132034))
        make_face()
        with BuildLine():
            Line((-21.962132034, 5.212132034), (-24.787867966, 8.037867966))
            ThreePointArc((-24.787867966, 8.037867966), (-25, 8.125735931), (-25.212132034, 8.037867966))
            Line((-25.212132034, 8.037867966), (-28.037867966, 5.212132034))
            ThreePointArc((-28.037867966, 5.212132034), (-28.125735931, 5), (-28.037867966, 4.787867966))
            Line((-28.037867966, 4.787867966), (-25.212132034, 1.962132034))
            ThreePointArc((-25.212132034, 1.962132034), (-25, 1.874264069), (-24.787867966, 1.962132034))
            Line((-24.787867966, 1.962132034), (-21.962132034, 4.787867966))
            ThreePointArc((-21.962132034, 4.787867966), (-21.874264069, 5), (-21.962132034, 5.212132034))
        make_face()
        with BuildLine():
            Line((-34.462132034, 5.212132034), (-37.287867966, 8.037867966))
            ThreePointArc((-37.287867966, 8.037867966), (-37.5, 8.125735931), (-37.712132034, 8.037867966))
            Line((-37.712132034, 8.037867966), (-40.537867966, 5.212132034))
            ThreePointArc((-40.537867966, 5.212132034), (-40.625735931, 5), (-40.537867966, 4.787867966))
            Line((-40.537867966, 4.787867966), (-37.712132034, 1.962132034))
            ThreePointArc((-37.712132034, 1.962132034), (-37.5, 1.874264069), (-37.287867966, 1.962132034))
            Line((-37.287867966, 1.962132034), (-34.462132034, 4.787867966))
            ThreePointArc((-34.462132034, 4.787867966), (-34.374264069, 5), (-34.462132034, 5.212132034))
        make_face()
        with BuildLine():
            Line((-46.962132034, 5.212132034), (-49.787867966, 8.037867966))
            ThreePointArc((-49.787867966, 8.037867966), (-50, 8.125735931), (-50.212132034, 8.037867966))
            Line((-50.212132034, 8.037867966), (-53.037867966, 5.212132034))
            ThreePointArc((-53.037867966, 5.212132034), (-53.125735931, 5), (-53.037867966, 4.787867966))
            Line((-53.037867966, 4.787867966), (-50.212132034, 1.962132034))
            ThreePointArc((-50.212132034, 1.962132034), (-50, 1.874264069), (-49.787867966, 1.962132034))
            Line((-49.787867966, 1.962132034), (-46.962132034, 4.787867966))
            ThreePointArc((-46.962132034, 4.787867966), (-46.874264069, 5), (-46.962132034, 5.212132034))
        make_face()
        with BuildLine():
            Line((61.962132034, 31.362132034), (64.787867966, 34.187867966))
            ThreePointArc((64.787867966, 34.187867966), (65, 34.275735931), (65.212132034, 34.187867966))
            Line((65.212132034, 34.187867966), (68.037867966, 31.362132034))
            ThreePointArc((68.037867966, 31.362132034), (68.125735931, 31.15), (68.037867966, 30.937867966))
            Line((68.037867966, 30.937867966), (65.212132034, 28.112132034))
            ThreePointArc((65.212132034, 28.112132034), (65, 28.024264069), (64.787867966, 28.112132034))
            Line((64.787867966, 28.112132034), (61.962132034, 30.937867966))
            ThreePointArc((61.962132034, 30.937867966), (61.874264069, 31.15), (61.962132034, 31.362132034))
        make_face()
        with BuildLine():
            Line((64.787867966, 40.612132034), (61.962132034, 43.437867966))
            ThreePointArc((61.962132034, 43.437867966), (61.874264069, 43.65), (61.962132034, 43.862132034))
            Line((61.962132034, 43.862132034), (64.787867966, 46.687867966))
            ThreePointArc((64.787867966, 46.687867966), (65, 46.775735931), (65.212132034, 46.687867966))
            Line((65.212132034, 46.687867966), (68.037867966, 43.862132034))
            ThreePointArc((68.037867966, 43.862132034), (68.125735931, 43.65), (68.037867966, 43.437867966))
            Line((68.037867966, 43.437867966), (65.212132034, 40.612132034))
            ThreePointArc((65.212132034, 40.612132034), (65, 40.524264069), (64.787867966, 40.612132034))
        make_face()
        with BuildLine():
            Line((64.787867966, 15.612132034), (61.962132034, 18.437867966))
            ThreePointArc((61.962132034, 18.437867966), (61.874264069, 18.65), (61.962132034, 18.862132034))
            Line((61.962132034, 18.862132034), (64.787867966, 21.687867966))
            ThreePointArc((64.787867966, 21.687867966), (65, 21.775735931), (65.212132034, 21.687867966))
            Line((65.212132034, 21.687867966), (68.037867966, 18.862132034))
            ThreePointArc((68.037867966, 18.862132034), (68.125735931, 18.65), (68.037867966, 18.437867966))
            Line((68.037867966, 18.437867966), (65.212132034, 15.612132034))
            ThreePointArc((65.212132034, 15.612132034), (65, 15.524264069), (64.787867966, 15.612132034))
        make_face()
    extrude(amount=BOSS_EXTRUDE11_DEPTH)

    # Sketch23 → Cut-Extrude9 (cut, through all)
    with BuildSketch(Plane(origin=(0, 10, 0), x_dir=(1, 0, 0), z_dir=(0, 1, 0))):
        Polygon((30, -55), (-35, -55), (-35, 38), (-22.5, 38), (-22.5, 46), (-35, 46), (-35, 60), (30, 60), align=None)
    extrude(amount=-CUT_EXTRUDE9_DEPTH, mode=Mode.SUBTRACT)

    # Sketch24 → Cut-Extrude10 (cut)
    with BuildSketch(Plane.XZ):
        with Locations((-40, -65)):
            Circle(SKETCH24_R)
    extrude(amount=-CUT_EXTRUDE10_DEPTH, mode=Mode.SUBTRACT)

    # Sketch25 → Cut-Extrude11 (cut)
    with BuildSketch(Plane.XZ):
        with Locations((-28.75, -42)):
            Rectangle(SKETCH25_W, SKETCH25_H)
    extrude(amount=-CUT_EXTRUDE11_DEPTH, mode=Mode.SUBTRACT)


solid = part.part
